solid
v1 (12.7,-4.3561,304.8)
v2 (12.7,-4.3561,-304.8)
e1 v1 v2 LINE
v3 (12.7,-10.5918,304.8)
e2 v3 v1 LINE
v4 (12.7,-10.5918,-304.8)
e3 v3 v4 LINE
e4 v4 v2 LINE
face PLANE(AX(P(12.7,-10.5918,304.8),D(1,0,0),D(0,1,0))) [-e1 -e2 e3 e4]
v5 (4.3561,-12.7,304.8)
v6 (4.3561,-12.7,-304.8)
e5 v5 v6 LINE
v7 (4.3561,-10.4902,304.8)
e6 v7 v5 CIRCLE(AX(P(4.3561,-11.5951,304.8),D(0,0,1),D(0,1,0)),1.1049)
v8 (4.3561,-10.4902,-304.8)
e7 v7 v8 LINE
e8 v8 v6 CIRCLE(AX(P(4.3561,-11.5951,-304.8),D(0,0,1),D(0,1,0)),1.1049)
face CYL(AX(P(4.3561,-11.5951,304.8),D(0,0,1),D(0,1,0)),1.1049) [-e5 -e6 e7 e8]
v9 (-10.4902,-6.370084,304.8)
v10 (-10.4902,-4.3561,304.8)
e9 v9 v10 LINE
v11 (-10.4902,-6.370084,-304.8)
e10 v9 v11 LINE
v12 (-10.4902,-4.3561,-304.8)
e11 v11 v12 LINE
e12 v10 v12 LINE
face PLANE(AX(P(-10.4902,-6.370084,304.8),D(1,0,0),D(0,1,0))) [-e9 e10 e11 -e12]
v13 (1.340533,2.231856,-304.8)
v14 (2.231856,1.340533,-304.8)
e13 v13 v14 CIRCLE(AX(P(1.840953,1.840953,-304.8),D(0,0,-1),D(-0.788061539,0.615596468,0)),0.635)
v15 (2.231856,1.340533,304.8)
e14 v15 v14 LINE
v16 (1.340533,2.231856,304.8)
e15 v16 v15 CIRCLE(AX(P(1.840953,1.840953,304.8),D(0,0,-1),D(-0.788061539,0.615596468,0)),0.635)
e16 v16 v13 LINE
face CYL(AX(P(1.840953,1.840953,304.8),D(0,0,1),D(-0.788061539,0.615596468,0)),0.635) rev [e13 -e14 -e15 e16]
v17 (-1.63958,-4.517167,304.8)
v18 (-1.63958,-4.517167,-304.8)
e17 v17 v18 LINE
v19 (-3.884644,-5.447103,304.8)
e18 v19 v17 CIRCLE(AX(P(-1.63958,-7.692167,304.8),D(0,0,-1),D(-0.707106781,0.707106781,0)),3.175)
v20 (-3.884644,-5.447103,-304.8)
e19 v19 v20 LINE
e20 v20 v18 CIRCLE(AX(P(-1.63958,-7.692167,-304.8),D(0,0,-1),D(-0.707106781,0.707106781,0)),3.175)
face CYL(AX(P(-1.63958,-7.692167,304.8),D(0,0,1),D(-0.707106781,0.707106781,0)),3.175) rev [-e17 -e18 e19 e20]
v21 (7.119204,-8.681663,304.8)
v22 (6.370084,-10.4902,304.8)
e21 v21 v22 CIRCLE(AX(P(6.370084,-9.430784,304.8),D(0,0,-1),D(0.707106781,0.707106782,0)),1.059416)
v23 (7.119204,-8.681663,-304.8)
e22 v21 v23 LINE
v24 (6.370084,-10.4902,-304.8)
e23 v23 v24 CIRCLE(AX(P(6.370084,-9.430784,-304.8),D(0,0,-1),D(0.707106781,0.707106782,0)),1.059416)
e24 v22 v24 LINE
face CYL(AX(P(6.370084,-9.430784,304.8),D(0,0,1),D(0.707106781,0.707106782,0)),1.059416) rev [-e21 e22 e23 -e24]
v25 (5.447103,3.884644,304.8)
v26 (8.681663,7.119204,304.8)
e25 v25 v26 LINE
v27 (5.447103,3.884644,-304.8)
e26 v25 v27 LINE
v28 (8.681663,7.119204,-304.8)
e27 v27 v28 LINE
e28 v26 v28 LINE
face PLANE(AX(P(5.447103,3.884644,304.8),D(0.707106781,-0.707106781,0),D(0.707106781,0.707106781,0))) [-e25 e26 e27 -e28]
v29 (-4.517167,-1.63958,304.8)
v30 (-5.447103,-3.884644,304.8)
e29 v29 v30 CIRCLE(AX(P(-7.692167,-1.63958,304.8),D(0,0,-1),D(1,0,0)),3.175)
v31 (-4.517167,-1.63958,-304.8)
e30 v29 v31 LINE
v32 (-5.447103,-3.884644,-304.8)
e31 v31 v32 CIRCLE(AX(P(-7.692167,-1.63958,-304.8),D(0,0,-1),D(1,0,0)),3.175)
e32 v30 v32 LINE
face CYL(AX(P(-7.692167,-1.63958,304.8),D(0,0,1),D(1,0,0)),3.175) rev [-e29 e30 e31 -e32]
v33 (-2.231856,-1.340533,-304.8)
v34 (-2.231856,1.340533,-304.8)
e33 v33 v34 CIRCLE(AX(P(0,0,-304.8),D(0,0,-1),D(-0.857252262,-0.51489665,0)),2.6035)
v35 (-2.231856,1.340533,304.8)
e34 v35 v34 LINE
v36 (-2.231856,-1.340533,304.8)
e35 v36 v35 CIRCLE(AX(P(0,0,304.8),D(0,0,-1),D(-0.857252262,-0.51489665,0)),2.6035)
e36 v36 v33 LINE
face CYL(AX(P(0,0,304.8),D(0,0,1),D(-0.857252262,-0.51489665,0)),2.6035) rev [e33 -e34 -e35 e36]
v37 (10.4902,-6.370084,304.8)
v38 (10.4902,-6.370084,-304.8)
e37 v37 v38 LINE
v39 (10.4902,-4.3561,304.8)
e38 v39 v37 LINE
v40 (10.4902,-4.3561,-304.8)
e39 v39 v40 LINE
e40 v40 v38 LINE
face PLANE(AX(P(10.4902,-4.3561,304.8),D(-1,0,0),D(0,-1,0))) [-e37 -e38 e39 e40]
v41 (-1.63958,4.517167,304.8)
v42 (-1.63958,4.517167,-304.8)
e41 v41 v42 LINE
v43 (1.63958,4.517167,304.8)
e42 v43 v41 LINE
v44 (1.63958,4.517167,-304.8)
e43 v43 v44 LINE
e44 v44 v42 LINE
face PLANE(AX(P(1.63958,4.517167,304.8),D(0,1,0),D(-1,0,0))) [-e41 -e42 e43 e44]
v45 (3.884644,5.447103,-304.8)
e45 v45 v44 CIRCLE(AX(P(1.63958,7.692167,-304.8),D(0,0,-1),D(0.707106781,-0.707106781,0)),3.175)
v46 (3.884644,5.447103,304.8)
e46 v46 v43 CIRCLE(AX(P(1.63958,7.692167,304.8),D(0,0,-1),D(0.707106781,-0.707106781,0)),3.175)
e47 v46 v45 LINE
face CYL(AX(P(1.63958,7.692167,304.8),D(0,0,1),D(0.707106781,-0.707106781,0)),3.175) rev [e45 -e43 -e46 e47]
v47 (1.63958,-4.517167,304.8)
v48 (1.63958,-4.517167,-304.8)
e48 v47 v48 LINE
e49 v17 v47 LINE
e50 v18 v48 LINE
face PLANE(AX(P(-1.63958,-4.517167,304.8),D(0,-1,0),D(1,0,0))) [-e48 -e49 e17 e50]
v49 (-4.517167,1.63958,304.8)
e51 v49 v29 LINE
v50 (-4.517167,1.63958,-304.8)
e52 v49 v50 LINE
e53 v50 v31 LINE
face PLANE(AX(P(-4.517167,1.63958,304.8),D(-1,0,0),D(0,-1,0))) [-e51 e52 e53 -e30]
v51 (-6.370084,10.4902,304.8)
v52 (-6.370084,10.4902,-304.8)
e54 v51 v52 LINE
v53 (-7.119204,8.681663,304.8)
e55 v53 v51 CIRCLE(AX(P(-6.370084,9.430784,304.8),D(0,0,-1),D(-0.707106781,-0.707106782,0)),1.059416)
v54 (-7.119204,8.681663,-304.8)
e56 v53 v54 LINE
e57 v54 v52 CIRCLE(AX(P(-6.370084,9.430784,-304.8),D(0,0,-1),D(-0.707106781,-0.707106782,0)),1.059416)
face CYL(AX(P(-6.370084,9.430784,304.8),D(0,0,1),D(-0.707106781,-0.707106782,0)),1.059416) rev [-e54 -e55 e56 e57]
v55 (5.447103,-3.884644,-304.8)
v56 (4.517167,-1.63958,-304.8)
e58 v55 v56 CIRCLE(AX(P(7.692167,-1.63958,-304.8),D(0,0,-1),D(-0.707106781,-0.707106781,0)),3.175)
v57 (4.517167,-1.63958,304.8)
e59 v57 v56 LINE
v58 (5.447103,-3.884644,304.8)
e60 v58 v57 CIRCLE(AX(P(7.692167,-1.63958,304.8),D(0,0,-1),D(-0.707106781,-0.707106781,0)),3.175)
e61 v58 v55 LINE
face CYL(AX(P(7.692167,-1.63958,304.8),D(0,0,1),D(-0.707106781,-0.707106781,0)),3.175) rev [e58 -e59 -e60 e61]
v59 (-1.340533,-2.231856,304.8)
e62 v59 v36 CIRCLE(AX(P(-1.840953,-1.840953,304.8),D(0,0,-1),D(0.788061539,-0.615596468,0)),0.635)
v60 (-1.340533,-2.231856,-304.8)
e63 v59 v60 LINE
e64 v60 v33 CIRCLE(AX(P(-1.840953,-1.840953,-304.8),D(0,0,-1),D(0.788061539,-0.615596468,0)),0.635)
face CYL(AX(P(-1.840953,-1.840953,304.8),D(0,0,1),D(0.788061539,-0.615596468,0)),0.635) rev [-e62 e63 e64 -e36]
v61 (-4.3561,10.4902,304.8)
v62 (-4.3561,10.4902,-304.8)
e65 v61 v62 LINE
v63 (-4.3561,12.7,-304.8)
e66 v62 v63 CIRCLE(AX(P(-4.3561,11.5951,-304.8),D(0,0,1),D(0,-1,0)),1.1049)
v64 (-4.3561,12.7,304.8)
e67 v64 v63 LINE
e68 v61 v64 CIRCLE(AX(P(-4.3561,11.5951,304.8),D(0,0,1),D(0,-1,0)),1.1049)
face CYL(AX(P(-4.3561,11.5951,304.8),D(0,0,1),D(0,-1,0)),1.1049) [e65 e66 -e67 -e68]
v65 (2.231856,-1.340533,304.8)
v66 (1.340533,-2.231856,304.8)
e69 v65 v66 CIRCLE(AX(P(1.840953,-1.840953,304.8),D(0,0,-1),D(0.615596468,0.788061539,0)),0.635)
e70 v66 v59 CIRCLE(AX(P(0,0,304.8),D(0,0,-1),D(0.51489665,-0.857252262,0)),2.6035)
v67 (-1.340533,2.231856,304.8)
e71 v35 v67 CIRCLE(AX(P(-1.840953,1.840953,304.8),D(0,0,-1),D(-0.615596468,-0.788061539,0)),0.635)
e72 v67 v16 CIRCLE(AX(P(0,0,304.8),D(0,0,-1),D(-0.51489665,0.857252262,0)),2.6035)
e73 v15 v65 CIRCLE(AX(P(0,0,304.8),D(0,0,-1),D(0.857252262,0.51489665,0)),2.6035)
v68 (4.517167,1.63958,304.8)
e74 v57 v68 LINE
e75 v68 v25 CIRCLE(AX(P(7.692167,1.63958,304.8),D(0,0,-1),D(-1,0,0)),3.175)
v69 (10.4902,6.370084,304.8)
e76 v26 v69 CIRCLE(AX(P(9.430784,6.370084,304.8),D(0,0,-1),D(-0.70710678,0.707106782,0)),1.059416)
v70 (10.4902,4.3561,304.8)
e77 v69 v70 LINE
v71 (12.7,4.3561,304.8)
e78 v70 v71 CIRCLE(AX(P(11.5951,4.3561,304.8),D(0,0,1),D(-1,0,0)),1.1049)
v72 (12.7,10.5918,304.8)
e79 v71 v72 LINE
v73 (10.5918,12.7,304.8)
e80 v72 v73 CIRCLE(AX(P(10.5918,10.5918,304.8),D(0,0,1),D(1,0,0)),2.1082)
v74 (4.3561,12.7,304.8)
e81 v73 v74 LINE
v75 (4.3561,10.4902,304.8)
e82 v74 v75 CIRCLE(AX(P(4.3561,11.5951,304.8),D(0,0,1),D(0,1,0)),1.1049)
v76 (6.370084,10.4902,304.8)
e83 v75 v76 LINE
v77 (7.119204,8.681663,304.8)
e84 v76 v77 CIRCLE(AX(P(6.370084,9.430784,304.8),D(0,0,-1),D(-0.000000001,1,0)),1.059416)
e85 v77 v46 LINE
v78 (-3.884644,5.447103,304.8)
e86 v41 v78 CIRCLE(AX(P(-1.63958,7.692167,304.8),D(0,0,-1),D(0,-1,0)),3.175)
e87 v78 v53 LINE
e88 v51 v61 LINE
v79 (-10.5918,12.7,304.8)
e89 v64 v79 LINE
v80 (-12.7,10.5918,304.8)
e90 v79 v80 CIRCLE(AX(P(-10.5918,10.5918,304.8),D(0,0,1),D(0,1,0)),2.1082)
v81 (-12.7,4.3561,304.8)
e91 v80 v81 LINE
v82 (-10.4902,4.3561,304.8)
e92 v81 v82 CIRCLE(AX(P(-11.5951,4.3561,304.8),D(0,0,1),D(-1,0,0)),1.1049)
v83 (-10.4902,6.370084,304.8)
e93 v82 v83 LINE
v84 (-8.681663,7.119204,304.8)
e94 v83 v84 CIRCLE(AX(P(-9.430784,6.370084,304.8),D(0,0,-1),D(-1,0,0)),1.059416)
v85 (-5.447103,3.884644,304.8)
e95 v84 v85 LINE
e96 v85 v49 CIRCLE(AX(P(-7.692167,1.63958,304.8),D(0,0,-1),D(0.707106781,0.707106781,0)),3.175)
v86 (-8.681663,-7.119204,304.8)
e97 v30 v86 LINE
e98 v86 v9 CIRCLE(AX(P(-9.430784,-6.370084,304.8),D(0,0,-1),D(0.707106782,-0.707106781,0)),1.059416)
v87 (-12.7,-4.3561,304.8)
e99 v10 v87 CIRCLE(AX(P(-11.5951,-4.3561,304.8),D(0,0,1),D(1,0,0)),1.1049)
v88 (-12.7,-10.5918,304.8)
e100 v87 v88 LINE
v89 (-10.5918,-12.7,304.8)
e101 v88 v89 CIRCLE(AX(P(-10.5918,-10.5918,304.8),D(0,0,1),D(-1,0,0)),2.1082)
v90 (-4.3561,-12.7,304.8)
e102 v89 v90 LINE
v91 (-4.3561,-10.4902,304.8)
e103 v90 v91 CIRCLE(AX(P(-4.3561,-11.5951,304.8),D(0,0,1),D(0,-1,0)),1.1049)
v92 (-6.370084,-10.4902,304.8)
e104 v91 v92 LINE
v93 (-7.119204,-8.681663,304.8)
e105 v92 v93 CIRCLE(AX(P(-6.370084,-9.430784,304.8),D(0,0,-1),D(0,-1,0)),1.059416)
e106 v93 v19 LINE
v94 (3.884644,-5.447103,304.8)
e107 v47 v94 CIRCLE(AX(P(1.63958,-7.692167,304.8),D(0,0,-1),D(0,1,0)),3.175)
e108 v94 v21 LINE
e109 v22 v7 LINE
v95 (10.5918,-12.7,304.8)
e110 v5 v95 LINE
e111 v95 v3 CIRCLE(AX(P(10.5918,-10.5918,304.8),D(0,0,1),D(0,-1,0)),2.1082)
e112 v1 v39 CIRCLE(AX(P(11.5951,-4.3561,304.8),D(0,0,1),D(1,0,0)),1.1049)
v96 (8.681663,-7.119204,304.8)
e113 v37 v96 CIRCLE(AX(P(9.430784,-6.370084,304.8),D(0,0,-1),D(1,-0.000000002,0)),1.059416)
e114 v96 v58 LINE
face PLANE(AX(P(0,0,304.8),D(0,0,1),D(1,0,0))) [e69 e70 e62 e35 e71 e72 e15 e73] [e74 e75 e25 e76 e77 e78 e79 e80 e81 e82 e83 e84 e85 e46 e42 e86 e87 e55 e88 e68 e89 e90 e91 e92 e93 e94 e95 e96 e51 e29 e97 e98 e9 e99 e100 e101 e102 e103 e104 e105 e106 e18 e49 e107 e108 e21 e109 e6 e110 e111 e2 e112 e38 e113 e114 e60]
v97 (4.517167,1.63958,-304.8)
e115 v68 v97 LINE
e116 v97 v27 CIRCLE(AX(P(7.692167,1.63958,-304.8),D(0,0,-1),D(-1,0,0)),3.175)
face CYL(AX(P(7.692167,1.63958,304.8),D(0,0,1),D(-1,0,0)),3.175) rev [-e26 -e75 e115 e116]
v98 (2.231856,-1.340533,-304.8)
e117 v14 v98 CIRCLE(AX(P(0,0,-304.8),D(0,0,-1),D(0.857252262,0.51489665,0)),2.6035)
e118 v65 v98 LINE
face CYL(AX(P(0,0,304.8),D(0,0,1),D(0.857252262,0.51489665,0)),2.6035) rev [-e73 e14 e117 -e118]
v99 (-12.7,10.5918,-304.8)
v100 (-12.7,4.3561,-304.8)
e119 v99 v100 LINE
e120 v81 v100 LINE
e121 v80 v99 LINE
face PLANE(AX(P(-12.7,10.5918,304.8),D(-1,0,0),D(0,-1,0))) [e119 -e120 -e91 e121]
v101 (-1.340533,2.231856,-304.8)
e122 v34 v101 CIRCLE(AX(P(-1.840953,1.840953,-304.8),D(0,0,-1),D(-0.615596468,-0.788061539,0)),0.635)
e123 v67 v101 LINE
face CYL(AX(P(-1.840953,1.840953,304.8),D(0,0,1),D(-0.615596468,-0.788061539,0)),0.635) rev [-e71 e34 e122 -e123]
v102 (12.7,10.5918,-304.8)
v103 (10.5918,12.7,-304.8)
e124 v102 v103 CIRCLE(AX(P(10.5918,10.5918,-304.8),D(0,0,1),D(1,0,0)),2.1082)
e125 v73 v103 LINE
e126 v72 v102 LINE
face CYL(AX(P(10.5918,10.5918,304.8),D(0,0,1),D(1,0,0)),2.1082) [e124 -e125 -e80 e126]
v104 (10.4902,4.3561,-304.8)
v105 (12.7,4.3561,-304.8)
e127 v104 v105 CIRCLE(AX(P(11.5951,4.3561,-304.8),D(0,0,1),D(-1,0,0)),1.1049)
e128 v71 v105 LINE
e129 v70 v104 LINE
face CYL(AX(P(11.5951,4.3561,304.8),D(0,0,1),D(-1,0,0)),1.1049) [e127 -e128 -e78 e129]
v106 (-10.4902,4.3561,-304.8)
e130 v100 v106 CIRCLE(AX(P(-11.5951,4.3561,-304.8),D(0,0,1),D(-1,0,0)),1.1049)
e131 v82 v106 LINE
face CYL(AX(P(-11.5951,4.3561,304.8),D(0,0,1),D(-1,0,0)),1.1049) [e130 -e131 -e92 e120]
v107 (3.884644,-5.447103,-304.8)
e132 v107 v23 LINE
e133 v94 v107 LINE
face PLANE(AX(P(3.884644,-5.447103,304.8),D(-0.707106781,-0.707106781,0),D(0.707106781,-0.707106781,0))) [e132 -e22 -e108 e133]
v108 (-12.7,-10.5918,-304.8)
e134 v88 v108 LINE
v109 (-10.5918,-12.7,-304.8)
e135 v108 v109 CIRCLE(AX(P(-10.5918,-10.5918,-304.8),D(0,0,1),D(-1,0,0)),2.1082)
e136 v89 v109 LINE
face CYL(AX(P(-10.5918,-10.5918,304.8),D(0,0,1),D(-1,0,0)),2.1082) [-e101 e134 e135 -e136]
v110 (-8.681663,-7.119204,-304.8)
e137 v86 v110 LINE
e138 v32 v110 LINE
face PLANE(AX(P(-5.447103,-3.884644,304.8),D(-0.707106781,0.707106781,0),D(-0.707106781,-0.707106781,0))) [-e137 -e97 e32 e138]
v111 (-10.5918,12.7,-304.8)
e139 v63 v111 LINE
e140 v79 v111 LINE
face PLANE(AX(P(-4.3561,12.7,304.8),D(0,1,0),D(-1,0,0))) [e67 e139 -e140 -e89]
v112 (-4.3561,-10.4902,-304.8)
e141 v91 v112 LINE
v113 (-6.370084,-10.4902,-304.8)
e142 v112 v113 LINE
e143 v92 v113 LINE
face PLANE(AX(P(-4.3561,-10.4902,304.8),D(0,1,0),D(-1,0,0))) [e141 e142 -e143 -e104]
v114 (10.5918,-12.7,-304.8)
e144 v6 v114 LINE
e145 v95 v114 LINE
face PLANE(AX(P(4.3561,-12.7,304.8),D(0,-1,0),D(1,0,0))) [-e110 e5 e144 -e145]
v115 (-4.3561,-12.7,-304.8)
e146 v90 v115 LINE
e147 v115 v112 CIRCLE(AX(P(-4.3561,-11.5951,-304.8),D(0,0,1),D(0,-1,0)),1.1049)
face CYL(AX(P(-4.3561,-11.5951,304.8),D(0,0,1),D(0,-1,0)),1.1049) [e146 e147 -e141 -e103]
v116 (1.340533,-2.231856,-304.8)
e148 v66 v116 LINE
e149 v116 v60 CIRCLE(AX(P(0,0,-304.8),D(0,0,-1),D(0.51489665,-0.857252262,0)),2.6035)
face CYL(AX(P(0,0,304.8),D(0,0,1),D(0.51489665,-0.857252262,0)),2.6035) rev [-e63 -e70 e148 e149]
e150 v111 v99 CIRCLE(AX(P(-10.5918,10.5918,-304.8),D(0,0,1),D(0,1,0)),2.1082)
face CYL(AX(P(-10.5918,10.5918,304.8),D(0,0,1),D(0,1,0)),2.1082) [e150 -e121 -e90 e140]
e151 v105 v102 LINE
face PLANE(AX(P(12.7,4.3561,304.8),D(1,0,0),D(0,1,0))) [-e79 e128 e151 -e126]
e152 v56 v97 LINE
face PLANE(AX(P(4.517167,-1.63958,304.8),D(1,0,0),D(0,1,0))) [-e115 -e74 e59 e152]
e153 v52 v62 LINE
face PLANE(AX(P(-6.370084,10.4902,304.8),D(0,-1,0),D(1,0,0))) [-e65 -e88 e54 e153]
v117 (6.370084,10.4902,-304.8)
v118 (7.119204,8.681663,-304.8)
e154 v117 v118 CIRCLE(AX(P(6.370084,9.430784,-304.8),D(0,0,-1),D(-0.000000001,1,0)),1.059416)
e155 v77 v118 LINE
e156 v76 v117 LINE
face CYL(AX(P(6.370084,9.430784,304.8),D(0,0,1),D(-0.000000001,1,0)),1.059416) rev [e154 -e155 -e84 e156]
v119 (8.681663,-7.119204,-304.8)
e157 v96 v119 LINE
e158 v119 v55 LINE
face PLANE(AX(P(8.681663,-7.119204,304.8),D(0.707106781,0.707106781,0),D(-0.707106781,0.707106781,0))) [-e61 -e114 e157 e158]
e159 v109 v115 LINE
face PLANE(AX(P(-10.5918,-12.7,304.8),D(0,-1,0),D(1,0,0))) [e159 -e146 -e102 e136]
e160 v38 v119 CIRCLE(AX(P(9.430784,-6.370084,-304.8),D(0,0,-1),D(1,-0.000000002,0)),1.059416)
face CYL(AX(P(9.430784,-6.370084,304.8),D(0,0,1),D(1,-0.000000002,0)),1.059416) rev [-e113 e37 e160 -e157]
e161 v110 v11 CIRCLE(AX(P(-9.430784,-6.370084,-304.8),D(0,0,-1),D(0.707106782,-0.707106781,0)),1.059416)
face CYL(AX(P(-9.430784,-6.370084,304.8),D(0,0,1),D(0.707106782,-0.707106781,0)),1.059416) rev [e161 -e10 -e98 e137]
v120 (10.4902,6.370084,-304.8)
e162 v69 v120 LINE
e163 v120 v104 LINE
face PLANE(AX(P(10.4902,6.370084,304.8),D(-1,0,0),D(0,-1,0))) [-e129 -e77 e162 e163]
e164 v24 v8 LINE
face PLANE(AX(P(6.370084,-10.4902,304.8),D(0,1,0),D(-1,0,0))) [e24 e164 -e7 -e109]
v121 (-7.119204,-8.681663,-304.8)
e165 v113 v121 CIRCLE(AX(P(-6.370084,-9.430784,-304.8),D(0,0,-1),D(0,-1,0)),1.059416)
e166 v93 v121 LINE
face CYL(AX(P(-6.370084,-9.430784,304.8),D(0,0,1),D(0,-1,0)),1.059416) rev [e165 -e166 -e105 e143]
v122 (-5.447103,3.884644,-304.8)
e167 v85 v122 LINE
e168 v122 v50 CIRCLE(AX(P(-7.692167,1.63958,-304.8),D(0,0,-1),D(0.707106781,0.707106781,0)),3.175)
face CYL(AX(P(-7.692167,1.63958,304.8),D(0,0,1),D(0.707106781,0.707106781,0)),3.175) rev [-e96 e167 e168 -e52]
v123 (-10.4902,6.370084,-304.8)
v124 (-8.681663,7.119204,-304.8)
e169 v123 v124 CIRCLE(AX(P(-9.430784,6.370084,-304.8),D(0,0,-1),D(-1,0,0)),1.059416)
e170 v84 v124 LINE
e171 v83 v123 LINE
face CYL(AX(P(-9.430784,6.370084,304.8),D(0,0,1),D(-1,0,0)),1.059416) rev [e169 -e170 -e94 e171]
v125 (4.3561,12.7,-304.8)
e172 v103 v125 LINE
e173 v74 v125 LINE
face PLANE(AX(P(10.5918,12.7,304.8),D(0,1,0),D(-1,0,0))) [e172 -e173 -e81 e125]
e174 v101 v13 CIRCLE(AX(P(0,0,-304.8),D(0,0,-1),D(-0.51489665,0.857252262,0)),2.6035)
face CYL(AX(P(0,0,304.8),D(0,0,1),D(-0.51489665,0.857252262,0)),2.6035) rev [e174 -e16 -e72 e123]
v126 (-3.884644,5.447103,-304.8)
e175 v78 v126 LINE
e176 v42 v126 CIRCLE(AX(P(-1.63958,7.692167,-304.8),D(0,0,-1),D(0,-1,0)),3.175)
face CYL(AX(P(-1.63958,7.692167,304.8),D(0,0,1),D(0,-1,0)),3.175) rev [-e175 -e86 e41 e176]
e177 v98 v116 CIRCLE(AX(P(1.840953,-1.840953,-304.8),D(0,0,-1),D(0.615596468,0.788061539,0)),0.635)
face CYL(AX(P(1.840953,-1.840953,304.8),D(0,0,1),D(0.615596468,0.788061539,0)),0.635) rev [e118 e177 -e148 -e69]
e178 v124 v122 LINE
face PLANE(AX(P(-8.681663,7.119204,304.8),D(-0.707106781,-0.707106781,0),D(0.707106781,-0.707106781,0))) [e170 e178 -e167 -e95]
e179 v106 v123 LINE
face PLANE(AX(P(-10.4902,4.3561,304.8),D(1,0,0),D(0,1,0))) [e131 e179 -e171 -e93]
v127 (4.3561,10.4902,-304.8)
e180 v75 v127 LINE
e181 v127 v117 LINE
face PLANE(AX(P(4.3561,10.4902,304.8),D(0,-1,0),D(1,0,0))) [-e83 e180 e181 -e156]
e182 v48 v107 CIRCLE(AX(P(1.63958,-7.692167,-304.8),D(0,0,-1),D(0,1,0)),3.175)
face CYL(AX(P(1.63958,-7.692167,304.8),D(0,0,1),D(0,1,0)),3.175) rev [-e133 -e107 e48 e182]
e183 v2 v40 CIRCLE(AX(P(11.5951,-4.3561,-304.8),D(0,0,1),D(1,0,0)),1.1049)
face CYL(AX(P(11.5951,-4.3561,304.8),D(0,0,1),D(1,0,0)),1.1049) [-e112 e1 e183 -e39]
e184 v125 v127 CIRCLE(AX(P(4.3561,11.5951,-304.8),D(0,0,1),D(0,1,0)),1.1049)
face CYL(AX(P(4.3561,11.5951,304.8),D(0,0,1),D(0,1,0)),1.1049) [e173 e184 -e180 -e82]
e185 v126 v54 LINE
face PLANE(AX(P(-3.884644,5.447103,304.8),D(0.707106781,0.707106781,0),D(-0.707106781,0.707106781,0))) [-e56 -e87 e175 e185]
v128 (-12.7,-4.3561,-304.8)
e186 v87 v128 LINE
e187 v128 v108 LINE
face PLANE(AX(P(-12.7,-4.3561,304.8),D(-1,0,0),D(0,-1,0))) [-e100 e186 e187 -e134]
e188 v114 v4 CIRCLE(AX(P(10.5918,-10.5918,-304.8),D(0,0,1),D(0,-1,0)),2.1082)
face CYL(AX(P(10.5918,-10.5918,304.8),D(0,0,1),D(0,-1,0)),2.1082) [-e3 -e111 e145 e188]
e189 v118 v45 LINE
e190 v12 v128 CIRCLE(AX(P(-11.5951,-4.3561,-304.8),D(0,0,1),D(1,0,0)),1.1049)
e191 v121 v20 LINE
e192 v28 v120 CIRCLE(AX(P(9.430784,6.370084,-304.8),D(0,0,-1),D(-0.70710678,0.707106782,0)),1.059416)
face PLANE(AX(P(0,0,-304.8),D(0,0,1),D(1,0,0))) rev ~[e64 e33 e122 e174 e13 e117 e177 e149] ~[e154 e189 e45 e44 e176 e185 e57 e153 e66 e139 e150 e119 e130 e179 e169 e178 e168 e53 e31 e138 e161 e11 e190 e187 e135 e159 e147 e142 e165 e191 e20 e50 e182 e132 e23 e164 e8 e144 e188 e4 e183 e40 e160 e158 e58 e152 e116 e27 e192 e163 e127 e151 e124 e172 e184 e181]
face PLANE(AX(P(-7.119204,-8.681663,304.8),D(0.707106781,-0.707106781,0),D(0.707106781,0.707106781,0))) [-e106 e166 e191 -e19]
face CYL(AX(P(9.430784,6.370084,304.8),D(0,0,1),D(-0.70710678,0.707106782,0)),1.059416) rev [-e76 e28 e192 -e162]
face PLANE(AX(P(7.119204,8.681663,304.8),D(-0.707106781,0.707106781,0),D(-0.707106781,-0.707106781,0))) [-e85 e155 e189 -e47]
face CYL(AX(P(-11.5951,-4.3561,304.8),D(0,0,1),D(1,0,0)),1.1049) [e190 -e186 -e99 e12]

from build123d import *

# Parameters (mm, degrees)
BOSS_EXTRUDE1_DEPTH = 609.6


with BuildPart() as part:
    # Sketch1 → Boss-Extrude1 (new body)
    with BuildSketch(Plane.XY.offset(304.8)):
        with BuildLine():
            Line((-12.7, -4.356099789), (-12.7, -10.5918))
            ThreePointArc((-12.7, -10.5918), (-12.082522516, -12.082522516), (-10.5918, -12.7))
            Line((-10.5918, -12.7), (-4.3561, -12.7))
            ThreePointArc((-4.3561, -12.7), (-3.2512, -11.5951), (-4.3561, -10.4902))
            Line((-4.3561, -10.4902), (-6.370083784, -10.4902))
            ThreePointArc((-6.370083784, -10.4902), (-7.348856741, -9.836204819), (-7.119204173, -8.681663396))
            Line((-7.119204173, -8.681663396), (-3.884643889, -5.447103112))
            ThreePointArc((-3.884643889, -5.447103112), (-2.854599756, -4.758849626), (-1.639579858, -4.517167142))
            Line((-1.639579858, -4.517167142), (1.639579858, -4.517167142))
            ThreePointArc((1.639579858, -4.517167142), (2.854599756, -4.758849626), (3.884643889, -5.447103112))
            Line((3.884643889, -5.447103112), (7.119204173, -8.681663397))
            ThreePointArc((7.119204173, -8.681663397), (7.348856741, -9.836204819), (6.370083784, -10.4902))
            Line((6.370083784, -10.4902), (4.356099789, -10.4902))
            ThreePointArc((4.356099789, -10.4902), (3.251199789, -11.5951), (4.356099789, -12.7))
            Line((4.356099789, -12.7), (10.5918, -12.7))
            ThreePointArc((10.5918, -12.7), (12.082522516, -12.082522516), (12.7, -10.5918))
            Line((12.7, -10.5918), (12.7, -4.356100001))
            ThreePointArc((12.7, -4.356100001), (11.5951, -3.251200001), (10.490200001, -4.356100001))
            Line((10.490200001, -4.356100001), (10.490200001, -6.370083785))
            ThreePointArc((10.490200001, -6.370083785), (9.836204819, -7.348856741), (8.681663397, -7.119204174))
            Line((8.681663397, -7.119204174), (5.447103112, -3.884643889))
            ThreePointArc((5.447103112, -3.884643889), (4.758849627, -2.854599757), (4.517167143, -1.639579859))
            Line((4.517167143, -1.639579859), (4.517167143, 1.639579859))
            ThreePointArc((4.517167143, 1.639579859), (4.758849627, 2.854599757), (5.447103112, 3.884643889))
            Line((5.447103112, 3.884643889), (8.681663397, 7.119204174))
            ThreePointArc((8.681663397, 7.119204174), (9.836204819, 7.348856741), (10.490200001, 6.370083784))
            Line((10.490200001, 6.370083784), (10.490200001, 4.356099789))
            ThreePointArc((10.490200001, 4.356099789), (11.5951, 3.251199789), (12.7, 4.356099789))
            Line((12.7, 4.356099789), (12.7, 10.5918))
            ThreePointArc((12.7, 10.5918), (12.082522516, 12.082522516), (10.5918, 12.7))
            Line((10.5918, 12.7), (4.3561, 12.7))
            ThreePointArc((4.3561, 12.7), (3.2512, 11.5951), (4.3561, 10.4902))
            Line((4.3561, 10.4902), (6.370083784, 10.4902))
            ThreePointArc((6.370083784, 10.4902), (7.348856741, 9.836204819), (7.119204173, 8.681663397))
            Line((7.119204173, 8.681663397), (3.884643889, 5.447103112))
            ThreePointArc((3.884643889, 5.447103112), (2.854599756, 4.758849626), (1.639579858, 4.517167142))
            Line((1.639579858, 4.517167142), (-1.639579858, 4.517167142))
            ThreePointArc((-1.639579858, 4.517167142), (-2.854599756, 4.758849626), (-3.884643889, 5.447103112))
            Line((-3.884643889, 5.447103112), (-7.119204173, 8.681663396))
            ThreePointArc((-7.119204173, 8.681663396), (-7.348856741, 9.836204819), (-6.370083784, 10.4902))
            Line((-6.370083784, 10.4902), (-4.356099789, 10.4902))
            ThreePointArc((-4.356099789, 10.4902), (-3.251199789, 11.5951), (-4.356099789, 12.7))
            Line((-4.356099789, 12.7), (-10.5918, 12.7))
            ThreePointArc((-10.5918, 12.7), (-12.082522516, 12.082522516), (-12.7, 10.5918))
            Line((-12.7, 10.5918), (-12.7, 4.3561))
            ThreePointArc((-12.7, 4.3561), (-11.5951, 3.2512), (-10.4902, 4.3561))
            Line((-10.4902, 4.3561), (-10.4902, 6.370083784))
            ThreePointArc((-10.4902, 6.370083784), (-9.836204819, 7.348856741), (-8.681663396, 7.119204173))
            Line((-8.681663396, 7.119204173), (-5.447103112, 3.884643889))
            ThreePointArc((-5.447103112, 3.884643889), (-4.758849626, 2.854599756), (-4.517167142, 1.639579858))
            Line((-4.517167142, 1.639579858), (-4.517167142, -1.639579858))
            ThreePointArc((-4.517167142, -1.639579858), (-4.758849626, -2.854599756), (-5.447103112, -3.884643889))
            Line((-5.447103112, -3.884643889), (-8.681663396, -7.119204173))
            ThreePointArc((-8.681663396, -7.119204173), (-9.836204819, -7.348856741), (-10.4902, -6.370083784))
            Line((-10.4902, -6.370083784), (-10.4902, -4.356099789))
            ThreePointArc((-10.4902, -4.356099789), (-11.5951, -3.251199789), (-12.7, -4.356099789))
        make_face()
        with BuildLine():
            ThreePointArc((-2.231856263, 1.340533428), (-2.289965312, 2.289965312), (-1.340533428, 2.231856263))
            ThreePointArc((-1.340533428, 2.231856263), (0, 2.6035), (1.340533428, 2.231856263))
            ThreePointArc((1.340533428, 2.231856263), (2.289965312, 2.289965312), (2.231856263, 1.340533428))
            ThreePointArc((2.231856263, 1.340533428), (2.6035, 0), (2.231856263, -1.340533428))
            ThreePointArc((2.231856263, -1.340533428), (2.289965312, -2.289965312), (1.340533428, -2.231856263))
            ThreePointArc((1.340533428, -2.231856263), (0, -2.6035), (-1.340533428, -2.231856263))
            ThreePointArc((-1.340533428, -2.231856263), (-2.289965312, -2.289965312), (-2.231856263, -1.340533428))
            ThreePointArc((-2.231856263, -1.340533428), (-2.6035, 0), (-2.231856263, 1.340533428))
        make_face(mode=Mode.SUBTRACT)
    extrude(amount=-BOSS_EXTRUDE1_DEPTH)


solid = part.part
